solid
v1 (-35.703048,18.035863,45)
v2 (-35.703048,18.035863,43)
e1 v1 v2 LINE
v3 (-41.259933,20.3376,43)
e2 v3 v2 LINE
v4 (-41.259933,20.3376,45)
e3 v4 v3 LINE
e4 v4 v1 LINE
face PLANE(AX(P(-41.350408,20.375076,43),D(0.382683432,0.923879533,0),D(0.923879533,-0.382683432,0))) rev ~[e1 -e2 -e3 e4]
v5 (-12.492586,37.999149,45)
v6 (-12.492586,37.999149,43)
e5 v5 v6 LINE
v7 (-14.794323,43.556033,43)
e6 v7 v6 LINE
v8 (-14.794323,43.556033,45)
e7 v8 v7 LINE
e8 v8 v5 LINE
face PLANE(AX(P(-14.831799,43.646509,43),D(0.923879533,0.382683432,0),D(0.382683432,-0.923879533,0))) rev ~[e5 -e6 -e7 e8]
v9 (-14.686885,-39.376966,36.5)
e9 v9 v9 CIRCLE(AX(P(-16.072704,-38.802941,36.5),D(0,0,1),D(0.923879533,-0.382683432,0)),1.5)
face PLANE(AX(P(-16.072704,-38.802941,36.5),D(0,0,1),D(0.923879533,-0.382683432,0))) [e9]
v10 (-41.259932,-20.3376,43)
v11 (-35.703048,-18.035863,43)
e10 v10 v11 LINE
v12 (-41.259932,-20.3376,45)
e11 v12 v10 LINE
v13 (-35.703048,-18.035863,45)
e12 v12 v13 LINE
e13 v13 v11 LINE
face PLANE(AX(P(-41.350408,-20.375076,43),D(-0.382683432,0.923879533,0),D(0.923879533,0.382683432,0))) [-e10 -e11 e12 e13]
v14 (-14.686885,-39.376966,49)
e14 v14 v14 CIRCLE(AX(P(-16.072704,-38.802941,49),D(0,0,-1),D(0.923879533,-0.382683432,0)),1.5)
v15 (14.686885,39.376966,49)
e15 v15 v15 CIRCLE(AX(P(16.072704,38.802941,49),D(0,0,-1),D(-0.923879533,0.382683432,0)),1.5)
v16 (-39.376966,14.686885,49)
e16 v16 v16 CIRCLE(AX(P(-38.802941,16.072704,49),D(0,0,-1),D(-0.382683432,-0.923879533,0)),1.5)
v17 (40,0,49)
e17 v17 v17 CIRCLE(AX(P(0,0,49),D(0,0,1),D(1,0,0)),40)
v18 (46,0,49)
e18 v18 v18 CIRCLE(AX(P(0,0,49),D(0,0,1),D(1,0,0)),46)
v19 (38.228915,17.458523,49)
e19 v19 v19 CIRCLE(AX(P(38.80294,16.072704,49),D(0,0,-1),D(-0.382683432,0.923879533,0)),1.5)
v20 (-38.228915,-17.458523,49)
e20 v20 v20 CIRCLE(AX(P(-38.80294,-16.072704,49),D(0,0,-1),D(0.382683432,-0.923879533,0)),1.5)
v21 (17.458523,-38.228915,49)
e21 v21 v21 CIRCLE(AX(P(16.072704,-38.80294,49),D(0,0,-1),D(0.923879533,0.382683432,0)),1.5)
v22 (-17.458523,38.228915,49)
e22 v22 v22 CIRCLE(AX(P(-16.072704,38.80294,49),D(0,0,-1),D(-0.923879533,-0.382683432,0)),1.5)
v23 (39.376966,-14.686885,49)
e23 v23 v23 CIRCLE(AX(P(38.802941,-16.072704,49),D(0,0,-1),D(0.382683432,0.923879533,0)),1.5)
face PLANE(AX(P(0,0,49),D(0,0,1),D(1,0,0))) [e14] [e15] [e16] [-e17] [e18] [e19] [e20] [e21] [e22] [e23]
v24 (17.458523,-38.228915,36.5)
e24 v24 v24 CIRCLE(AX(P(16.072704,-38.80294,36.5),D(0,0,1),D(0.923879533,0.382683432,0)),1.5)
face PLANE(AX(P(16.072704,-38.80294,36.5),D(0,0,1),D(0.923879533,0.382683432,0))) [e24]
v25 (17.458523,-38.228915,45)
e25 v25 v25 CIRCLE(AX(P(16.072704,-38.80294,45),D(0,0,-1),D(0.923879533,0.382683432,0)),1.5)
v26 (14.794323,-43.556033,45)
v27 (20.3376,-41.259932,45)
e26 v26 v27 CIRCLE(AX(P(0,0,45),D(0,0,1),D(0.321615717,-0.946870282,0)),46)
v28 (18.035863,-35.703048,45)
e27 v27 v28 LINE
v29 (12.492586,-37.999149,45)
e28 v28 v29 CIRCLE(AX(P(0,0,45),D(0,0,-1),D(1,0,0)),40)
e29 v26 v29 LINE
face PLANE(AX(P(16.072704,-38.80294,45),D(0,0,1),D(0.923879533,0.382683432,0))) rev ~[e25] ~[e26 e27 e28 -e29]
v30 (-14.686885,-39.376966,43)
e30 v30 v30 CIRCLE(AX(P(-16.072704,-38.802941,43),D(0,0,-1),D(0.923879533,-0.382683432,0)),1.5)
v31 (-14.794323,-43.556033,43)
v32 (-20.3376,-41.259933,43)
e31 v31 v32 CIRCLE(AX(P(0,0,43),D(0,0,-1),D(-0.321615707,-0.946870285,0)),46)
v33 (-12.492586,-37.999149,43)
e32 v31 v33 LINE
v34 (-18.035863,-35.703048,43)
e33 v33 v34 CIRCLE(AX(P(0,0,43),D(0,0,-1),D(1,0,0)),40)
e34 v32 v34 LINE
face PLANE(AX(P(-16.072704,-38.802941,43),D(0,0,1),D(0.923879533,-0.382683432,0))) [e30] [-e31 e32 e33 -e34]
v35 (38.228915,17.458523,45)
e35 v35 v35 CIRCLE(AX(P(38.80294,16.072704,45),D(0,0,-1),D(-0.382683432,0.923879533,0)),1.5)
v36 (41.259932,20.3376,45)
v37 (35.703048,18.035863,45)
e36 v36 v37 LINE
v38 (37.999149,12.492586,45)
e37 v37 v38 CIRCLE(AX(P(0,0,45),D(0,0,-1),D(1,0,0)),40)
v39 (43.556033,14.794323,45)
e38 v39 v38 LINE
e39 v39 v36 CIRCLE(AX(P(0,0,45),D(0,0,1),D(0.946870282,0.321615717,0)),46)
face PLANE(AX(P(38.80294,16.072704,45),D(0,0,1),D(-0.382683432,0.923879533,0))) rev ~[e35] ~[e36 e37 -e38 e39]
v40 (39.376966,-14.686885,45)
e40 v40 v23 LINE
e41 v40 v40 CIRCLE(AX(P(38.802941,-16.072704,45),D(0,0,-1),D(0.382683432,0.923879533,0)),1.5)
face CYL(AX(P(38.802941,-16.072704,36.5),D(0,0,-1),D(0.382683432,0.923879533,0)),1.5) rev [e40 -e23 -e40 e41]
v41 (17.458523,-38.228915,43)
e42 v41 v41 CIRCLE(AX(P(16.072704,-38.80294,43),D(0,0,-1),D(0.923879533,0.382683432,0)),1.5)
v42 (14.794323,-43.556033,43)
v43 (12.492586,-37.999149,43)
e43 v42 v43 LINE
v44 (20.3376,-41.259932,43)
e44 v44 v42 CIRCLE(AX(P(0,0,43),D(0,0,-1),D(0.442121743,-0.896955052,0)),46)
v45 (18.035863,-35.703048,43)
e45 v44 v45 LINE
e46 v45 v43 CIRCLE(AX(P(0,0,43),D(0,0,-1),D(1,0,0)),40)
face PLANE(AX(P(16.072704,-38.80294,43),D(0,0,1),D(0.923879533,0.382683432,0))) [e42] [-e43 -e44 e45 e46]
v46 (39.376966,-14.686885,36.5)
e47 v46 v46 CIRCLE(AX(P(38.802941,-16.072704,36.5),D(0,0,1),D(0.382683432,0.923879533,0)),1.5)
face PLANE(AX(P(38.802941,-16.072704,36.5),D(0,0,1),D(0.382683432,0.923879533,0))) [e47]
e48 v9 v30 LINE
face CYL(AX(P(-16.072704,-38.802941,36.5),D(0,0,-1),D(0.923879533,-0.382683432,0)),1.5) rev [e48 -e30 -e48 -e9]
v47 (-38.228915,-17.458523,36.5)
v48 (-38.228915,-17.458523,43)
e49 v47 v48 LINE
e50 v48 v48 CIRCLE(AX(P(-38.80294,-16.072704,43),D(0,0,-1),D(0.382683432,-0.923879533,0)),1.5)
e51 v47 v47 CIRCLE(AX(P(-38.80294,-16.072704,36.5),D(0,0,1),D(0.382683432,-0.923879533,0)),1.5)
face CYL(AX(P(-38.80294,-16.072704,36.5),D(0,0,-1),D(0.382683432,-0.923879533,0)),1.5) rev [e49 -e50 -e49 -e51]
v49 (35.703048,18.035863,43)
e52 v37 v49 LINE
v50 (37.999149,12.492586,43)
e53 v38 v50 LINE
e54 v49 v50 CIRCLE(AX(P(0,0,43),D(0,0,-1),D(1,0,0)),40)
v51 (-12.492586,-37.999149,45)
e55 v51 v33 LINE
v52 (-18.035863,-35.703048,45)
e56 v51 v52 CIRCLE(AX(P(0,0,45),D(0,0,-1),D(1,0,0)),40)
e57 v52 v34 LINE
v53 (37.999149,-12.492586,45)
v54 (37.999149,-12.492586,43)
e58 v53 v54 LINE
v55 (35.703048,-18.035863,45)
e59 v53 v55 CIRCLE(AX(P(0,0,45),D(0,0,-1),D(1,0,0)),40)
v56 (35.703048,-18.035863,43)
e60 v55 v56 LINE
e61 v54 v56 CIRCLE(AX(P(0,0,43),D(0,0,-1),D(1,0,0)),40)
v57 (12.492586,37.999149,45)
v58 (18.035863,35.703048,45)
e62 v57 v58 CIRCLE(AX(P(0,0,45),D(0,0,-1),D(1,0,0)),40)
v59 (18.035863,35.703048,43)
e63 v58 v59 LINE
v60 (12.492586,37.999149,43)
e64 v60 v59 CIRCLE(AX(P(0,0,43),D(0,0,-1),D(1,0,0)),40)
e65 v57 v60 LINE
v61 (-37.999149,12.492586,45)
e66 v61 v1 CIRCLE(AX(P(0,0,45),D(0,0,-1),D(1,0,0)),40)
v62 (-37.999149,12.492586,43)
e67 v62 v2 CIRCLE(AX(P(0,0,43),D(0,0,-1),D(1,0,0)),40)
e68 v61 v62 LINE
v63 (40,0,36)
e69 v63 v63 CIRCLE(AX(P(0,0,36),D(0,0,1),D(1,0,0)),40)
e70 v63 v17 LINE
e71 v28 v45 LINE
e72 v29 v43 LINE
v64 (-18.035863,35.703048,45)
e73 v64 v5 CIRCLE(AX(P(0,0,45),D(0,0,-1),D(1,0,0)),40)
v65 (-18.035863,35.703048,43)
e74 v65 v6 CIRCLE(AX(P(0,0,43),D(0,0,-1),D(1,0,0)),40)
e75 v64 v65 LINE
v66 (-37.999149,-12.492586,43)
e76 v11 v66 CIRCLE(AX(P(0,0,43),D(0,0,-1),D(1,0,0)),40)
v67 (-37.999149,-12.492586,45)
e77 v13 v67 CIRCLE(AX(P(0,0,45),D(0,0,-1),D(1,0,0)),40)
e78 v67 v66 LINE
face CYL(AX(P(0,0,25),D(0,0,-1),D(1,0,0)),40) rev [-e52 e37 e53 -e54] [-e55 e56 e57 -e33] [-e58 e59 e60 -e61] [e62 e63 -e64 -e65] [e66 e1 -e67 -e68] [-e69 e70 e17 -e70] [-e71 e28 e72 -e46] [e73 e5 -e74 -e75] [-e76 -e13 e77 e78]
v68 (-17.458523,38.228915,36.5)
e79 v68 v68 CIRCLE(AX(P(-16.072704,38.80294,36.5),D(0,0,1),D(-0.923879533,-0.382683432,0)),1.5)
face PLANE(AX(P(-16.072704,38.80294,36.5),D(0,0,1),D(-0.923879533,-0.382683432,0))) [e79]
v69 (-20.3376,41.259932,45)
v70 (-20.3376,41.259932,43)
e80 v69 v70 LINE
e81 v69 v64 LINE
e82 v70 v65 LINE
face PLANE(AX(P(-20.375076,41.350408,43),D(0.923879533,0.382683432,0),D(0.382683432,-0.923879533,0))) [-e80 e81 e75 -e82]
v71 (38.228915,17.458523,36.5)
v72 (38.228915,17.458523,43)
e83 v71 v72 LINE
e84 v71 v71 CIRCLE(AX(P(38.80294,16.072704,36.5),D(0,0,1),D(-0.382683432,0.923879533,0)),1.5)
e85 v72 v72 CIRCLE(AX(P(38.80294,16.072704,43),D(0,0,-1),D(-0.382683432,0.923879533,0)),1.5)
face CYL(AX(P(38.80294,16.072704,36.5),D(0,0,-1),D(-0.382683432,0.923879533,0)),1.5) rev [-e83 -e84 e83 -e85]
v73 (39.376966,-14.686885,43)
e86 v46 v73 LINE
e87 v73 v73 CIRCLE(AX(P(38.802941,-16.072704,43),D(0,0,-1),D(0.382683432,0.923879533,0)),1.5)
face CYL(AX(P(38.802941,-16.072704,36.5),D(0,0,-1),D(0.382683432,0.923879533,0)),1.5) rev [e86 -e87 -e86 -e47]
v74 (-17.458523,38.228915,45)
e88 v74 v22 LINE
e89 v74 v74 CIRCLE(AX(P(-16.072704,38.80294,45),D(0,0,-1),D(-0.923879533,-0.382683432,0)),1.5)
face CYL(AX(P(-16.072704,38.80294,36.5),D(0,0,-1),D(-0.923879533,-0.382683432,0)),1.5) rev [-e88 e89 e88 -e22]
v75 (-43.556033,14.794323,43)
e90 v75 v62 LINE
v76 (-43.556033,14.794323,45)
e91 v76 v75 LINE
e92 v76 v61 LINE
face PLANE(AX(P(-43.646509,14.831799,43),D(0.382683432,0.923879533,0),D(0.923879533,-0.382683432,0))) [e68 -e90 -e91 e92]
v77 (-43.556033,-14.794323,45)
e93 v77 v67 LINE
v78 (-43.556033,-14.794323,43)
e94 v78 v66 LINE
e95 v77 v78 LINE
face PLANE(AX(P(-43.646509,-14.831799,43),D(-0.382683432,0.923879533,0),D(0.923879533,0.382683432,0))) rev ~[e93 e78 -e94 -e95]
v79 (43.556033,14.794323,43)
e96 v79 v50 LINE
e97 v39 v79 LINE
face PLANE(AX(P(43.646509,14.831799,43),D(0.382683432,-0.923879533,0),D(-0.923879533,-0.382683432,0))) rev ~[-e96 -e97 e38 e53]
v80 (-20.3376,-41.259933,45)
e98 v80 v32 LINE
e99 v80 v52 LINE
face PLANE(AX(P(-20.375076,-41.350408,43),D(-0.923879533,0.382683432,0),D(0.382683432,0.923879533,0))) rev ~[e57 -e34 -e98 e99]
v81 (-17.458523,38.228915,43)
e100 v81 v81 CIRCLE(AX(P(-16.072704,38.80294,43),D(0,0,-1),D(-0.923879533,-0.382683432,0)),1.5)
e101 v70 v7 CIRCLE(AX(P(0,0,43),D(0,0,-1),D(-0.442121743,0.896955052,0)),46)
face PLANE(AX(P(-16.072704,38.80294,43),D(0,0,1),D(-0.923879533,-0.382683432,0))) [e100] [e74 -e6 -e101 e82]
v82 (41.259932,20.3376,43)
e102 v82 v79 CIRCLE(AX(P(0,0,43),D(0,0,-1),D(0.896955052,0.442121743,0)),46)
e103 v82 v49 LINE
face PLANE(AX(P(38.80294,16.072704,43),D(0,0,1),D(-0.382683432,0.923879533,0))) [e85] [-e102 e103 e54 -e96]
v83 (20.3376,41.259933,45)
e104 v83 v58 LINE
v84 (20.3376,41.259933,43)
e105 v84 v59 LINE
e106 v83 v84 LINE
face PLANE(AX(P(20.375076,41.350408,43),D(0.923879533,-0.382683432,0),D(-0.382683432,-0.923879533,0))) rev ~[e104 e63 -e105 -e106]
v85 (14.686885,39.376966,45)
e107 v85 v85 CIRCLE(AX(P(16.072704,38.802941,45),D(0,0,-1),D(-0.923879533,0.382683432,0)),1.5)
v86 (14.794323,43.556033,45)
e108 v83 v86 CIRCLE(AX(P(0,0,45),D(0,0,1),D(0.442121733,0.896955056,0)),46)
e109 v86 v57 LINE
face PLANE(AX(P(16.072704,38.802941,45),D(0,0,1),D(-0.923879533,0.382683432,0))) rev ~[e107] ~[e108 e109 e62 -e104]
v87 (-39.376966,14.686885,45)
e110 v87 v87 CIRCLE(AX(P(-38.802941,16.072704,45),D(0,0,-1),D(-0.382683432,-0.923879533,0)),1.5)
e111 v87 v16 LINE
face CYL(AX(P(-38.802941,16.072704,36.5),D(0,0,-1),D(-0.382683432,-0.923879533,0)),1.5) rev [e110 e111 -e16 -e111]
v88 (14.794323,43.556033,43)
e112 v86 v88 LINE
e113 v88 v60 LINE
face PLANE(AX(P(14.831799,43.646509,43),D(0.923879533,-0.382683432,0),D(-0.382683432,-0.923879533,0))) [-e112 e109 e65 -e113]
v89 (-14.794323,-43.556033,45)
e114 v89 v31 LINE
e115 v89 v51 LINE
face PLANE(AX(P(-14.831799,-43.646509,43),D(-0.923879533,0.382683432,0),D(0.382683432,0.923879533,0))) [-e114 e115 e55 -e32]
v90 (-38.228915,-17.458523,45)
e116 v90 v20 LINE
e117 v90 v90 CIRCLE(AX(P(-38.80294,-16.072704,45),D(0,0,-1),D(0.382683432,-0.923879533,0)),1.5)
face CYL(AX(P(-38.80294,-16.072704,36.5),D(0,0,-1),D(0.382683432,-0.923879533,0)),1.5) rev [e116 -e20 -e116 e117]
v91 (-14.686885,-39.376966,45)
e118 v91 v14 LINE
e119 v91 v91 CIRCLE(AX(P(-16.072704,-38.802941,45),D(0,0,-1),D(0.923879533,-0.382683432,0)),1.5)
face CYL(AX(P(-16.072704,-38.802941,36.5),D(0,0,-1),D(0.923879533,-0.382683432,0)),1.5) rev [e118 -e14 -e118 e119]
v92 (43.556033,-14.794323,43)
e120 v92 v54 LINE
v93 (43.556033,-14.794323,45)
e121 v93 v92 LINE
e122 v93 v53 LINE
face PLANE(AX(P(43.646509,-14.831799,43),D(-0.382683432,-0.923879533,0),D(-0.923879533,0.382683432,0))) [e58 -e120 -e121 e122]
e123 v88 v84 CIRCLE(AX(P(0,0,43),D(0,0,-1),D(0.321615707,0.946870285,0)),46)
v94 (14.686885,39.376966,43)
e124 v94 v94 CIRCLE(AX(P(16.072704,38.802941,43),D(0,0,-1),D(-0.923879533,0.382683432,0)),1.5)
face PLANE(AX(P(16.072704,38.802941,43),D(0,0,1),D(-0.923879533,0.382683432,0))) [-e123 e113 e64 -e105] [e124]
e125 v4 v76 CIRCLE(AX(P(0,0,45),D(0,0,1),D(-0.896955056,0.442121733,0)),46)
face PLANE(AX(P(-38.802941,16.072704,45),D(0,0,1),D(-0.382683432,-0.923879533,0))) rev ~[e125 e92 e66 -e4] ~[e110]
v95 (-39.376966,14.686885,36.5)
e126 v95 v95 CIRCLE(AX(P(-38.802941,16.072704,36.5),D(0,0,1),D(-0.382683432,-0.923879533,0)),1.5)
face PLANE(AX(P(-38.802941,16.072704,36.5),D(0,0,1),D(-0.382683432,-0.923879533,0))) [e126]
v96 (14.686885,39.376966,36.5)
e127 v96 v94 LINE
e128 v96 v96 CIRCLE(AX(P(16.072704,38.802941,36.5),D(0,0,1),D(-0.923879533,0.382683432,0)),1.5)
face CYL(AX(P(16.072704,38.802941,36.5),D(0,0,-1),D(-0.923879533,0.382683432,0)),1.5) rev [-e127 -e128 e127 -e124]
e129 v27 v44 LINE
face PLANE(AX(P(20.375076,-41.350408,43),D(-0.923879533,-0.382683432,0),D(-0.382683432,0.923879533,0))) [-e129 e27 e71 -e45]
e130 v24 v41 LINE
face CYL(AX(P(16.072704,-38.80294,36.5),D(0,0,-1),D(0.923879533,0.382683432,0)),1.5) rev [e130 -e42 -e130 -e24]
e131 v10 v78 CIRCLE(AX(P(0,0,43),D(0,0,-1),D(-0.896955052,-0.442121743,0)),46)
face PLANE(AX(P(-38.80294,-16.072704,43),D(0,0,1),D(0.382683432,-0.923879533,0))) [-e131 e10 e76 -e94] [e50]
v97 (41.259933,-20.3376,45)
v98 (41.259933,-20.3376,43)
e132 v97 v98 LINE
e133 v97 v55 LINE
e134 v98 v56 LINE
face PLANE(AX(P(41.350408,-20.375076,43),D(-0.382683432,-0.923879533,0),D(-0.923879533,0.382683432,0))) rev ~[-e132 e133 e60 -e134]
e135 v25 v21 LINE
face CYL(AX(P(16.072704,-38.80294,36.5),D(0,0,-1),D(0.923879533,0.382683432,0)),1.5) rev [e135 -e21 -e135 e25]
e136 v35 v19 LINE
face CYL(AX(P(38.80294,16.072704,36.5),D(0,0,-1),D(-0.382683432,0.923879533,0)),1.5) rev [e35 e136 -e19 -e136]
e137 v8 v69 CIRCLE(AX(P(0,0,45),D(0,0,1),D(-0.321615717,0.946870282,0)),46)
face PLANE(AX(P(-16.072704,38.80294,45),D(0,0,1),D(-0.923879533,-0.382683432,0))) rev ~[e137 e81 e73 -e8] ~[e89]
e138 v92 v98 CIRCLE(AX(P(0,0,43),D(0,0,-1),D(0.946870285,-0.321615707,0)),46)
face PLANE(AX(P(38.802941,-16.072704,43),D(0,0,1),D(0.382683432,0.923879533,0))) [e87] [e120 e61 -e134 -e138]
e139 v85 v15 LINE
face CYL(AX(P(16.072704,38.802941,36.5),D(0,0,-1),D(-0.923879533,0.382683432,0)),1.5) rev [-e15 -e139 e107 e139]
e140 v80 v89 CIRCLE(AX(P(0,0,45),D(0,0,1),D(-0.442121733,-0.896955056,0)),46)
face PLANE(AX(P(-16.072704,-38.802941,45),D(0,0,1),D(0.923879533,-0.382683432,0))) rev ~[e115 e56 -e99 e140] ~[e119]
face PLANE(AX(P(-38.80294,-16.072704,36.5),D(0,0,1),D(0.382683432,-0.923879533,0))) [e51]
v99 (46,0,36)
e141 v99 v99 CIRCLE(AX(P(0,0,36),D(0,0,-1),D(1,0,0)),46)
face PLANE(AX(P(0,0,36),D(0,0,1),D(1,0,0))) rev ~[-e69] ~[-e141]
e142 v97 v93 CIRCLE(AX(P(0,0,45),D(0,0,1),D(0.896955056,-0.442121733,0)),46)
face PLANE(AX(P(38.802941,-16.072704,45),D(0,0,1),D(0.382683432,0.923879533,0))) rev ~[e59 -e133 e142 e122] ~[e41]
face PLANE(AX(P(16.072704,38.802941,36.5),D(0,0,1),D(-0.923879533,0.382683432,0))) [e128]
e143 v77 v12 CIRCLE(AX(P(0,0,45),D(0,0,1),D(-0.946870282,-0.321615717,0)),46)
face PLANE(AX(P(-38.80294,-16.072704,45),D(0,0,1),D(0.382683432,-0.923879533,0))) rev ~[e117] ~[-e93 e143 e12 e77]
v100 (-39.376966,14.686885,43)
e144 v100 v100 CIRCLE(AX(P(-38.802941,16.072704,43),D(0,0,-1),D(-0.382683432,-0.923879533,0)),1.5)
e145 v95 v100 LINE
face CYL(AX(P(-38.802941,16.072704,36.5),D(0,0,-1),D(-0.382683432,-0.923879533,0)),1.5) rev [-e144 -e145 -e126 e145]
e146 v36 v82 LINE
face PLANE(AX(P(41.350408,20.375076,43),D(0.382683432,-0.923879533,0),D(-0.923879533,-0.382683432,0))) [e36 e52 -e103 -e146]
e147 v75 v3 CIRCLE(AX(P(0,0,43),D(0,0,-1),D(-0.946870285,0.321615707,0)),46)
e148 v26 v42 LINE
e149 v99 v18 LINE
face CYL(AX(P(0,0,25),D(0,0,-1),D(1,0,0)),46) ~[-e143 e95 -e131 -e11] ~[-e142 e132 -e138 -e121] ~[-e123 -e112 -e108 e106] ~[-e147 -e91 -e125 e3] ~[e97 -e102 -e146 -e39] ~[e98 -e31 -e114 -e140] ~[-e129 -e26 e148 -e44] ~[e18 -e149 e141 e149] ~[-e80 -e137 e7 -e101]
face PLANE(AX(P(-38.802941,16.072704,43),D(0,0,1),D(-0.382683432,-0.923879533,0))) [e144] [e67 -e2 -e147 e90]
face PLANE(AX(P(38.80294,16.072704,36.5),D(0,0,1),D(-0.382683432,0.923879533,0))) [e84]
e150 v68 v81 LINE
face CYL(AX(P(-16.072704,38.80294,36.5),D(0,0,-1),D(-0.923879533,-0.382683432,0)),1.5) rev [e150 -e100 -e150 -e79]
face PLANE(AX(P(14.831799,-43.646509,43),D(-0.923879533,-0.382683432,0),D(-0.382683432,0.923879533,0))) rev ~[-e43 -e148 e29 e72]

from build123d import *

# Parameters (mm, degrees)
BOX548_W                     = 6
BOX548_H                     = 8
BOX548_DEPTH                 = 2
BOX548_PLACEMENT_ANGLE       = 45
BOX546_W                     = 6
BOX546_H                     = 8
BOX546_DEPTH                 = 2
BOX545_W                     = 6
BOX545_H                     = 8
BOX545_DEPTH                 = 2
BOX549_W                     = 6
BOX549_H                     = 8
BOX549_DEPTH                 = 2
BOX549_PLACEMENT_ANGLE       = 135
BOX550_W                     = 6
BOX550_H                     = 8
BOX550_DEPTH                 = 2
BOX547_W                     = 6
BOX547_H                     = 8
BOX547_DEPTH                 = 2
BOX547_PLACEMENT_ANGLE       = 225
BOX551_W                     = 6
BOX551_H                     = 8
BOX551_DEPTH                 = 2
BOX544_W                     = 6
BOX544_H                     = 8
BOX544_DEPTH                 = 2
BOX544_PLACEMENT_ANGLE       = 45
COMPOUND925_PLACEMENT_ANGLE  = 22.5
CYLINDER1290_R               = 1.5
CYLINDER1290_DEPTH           = 32
CYLINDER1290_PLACEMENT_ANGLE = 45
CYLINDER1293_R               = 1.5
CYLINDER1293_DEPTH           = 32
CYLINDER1291_R               = 1.5
CYLINDER1291_DEPTH           = 32
CYLINDER1291_PLACEMENT_ANGLE = 135
CYLINDER1289_R               = 1.5
CYLINDER1289_DEPTH           = 32
CYLINDER1287_R               = 1.5
CYLINDER1287_DEPTH           = 32
CYLINDER1287_PLACEMENT_ANGLE = 225
CYLINDER1292_R               = 1.5
CYLINDER1292_DEPTH           = 32
CYLINDER1286_R               = 1.5
CYLINDER1286_DEPTH           = 32
CYLINDER1286_PLACEMENT_ANGLE = 45
CYLINDER1288_R               = 1.5
CYLINDER1288_DEPTH           = 32
COMPOUND926_PLACEMENT_ANGLE  = 22.5
TUBE115_R                    = 50
TUBE115_R_2                  = 40
TUBE115_DEPTH                = 12
TUBE113_R                    = 46
TUBE113_R_2                  = 40
TUBE113_DEPTH                = 24


with BuildPart() as krychle548:
    # Box548 → Box548 (new body)
    with BuildSketch(Plane.XY):
        with Locations((3, 4)):
            Rectangle(BOX548_W, BOX548_H)
    extrude(amount=BOX548_DEPTH)


with BuildPart() as krychle548_1:
    # Box548 placement: moved
    add(krychle548.part.moved(Location((30.405592, -34.648232, 33))).rotate(Axis((30.405592, -34.648232, 33), (0, 0, 1)), BOX548_PLACEMENT_ANGLE))


with BuildPart() as krychle546:
    # Box546 → Box546 (new body)
    with BuildSketch(Plane(origin=(46, -3, 33), x_dir=(0, 1, 0), z_dir=(0, 0, 1))):
        with Locations((3, 4)):
            Rectangle(BOX546_W, BOX546_H)
    extrude(amount=BOX546_DEPTH)


with BuildPart() as krychle545:
    # Box545 → Box545 (new body)
    with BuildSketch(Plane(origin=(-3, -46, 33), x_dir=(1, 0, 0), z_dir=(0, 0, 1))):
        with Locations((3, 4)):
            Rectangle(BOX545_W, BOX545_H)
    extrude(amount=BOX545_DEPTH)


with BuildPart() as krychle549:
    # Box549 → Box549 (new body)
    with BuildSketch(Plane.XY):
        with Locations((3, 4)):
            Rectangle(BOX549_W, BOX549_H)
    extrude(amount=BOX549_DEPTH)


with BuildPart() as krychle549_1:
    # Box549 placement: moved
    add(krychle549.part.moved(Location((34.648232, 30.405592, 33))).rotate(Axis((34.648232, 30.405592, 33), (0, 0, 1)), BOX549_PLACEMENT_ANGLE))


with BuildPart() as krychle550:
    # Box550 → Box550 (new body)
    with BuildSketch(Plane(origin=(3, 46, 33), x_dir=(-1, 0, 0), z_dir=(0, 0, 1))):
        with Locations((3, 4)):
            Rectangle(BOX550_W, BOX550_H)
    extrude(amount=BOX550_DEPTH)


with BuildPart() as krychle547:
    # Box547 → Box547 (new body)
    with BuildSketch(Plane.XY):
        with Locations((3, 4)):
            Rectangle(BOX547_W, BOX547_H)
    extrude(amount=BOX547_DEPTH)


with BuildPart() as krychle547_1:
    # Box547 placement: moved
    add(krychle547.part.moved(Location((-30.405592, 34.648232, 33))).rotate(Axis((-30.405592, 34.648232, 33), (0, 0, 1)), BOX547_PLACEMENT_ANGLE))


with BuildPart() as krychle551:
    # Box551 → Box551 (new body)
    with BuildSketch(Plane(origin=(-46, 3, 33), x_dir=(0, -1, 0), z_dir=(0, 0, 1))):
        with Locations((3, 4)):
            Rectangle(BOX551_W, BOX551_H)
    extrude(amount=BOX551_DEPTH)


with BuildPart() as compound925:
    # Box544 → Box544 (new body)
    with BuildSketch(Plane.XY):
        with Locations((3, 4)):
            Rectangle(BOX544_W, BOX544_H)
    extrude(amount=BOX544_DEPTH)


with BuildPart() as compound925_1:
    # Box544 placement: moved
    add(compound925.part.moved(Location((-34.648232, -30.405592, 33))).rotate(Axis((-34.648232, -30.405592, 33), (0, 0, -1)), BOX544_PLACEMENT_ANGLE))

    # Compound925: union Krychle548, Krychle546, Krychle545, Krychle549, Krychle550, Krychle547, Krychle551
    add(krychle548_1.part)
    add(krychle546.part)
    add(krychle545.part)
    add(krychle549_1.part)
    add(krychle550.part)
    add(krychle547_1.part)
    add(krychle551.part)


with BuildPart() as compound925_2:
    # Compound925 placement: moved
    add(compound925_1.part.moved(Location((0, 0, 10))).rotate(Axis((0, 0, 10), (0, 0, 1)), COMPOUND925_PLACEMENT_ANGLE))


with BuildPart() as v_lec1290:
    # Cylinder1290 → Cylinder1290 (new body)
    with BuildSketch(Plane.XY):
        Circle(CYLINDER1290_R)
    extrude(amount=CYLINDER1290_DEPTH)


with BuildPart() as v_lec1290_1:
    # Cylinder1290 placement: moved
    add(v_lec1290.part.moved(Location((29.698485, -29.698485, 33.5))).rotate(Axis((29.698485, -29.698485, 33.5), (0, 0, 1)), CYLINDER1290_PLACEMENT_ANGLE))


with BuildPart() as v_lec1293:
    # Cylinder1293 → Cylinder1293 (new body)
    with BuildSketch(Plane(origin=(42, 0, 33.5), x_dir=(0, 1, 0), z_dir=(0, 0, 1))):
        Circle(CYLINDER1293_R)
    extrude(amount=CYLINDER1293_DEPTH)


with BuildPart() as v_lec1291:
    # Cylinder1291 → Cylinder1291 (new body)
    with BuildSketch(Plane.XY):
        Circle(CYLINDER1291_R)
    extrude(amount=CYLINDER1291_DEPTH)


with BuildPart() as v_lec1291_1:
    # Cylinder1291 placement: moved
    add(v_lec1291.part.moved(Location((29.698485, 29.698485, 33.5))).rotate(Axis((29.698485, 29.698485, 33.5), (0, 0, 1)), CYLINDER1291_PLACEMENT_ANGLE))


with BuildPart() as v_lec1289:
    # Cylinder1289 → Cylinder1289 (new body)
    with BuildSketch(Plane(origin=(0, 42, 33.5), x_dir=(-1, 0, 0), z_dir=(0, 0, 1))):
        Circle(CYLINDER1289_R)
    extrude(amount=CYLINDER1289_DEPTH)


with BuildPart() as v_lec1287:
    # Cylinder1287 → Cylinder1287 (new body)
    with BuildSketch(Plane.XY):
        Circle(CYLINDER1287_R)
    extrude(amount=CYLINDER1287_DEPTH)


with BuildPart() as v_lec1287_1:
    # Cylinder1287 placement: moved
    add(v_lec1287.part.moved(Location((-29.698485, 29.698485, 33.5))).rotate(Axis((-29.698485, 29.698485, 33.5), (0, 0, 1)), CYLINDER1287_PLACEMENT_ANGLE))


with BuildPart() as v_lec1292:
    # Cylinder1292 → Cylinder1292 (new body)
    with BuildSketch(Plane(origin=(-42, 0, 33.5), x_dir=(0, -1, 0), z_dir=(0, 0, 1))):
        Circle(CYLINDER1292_R)
    extrude(amount=CYLINDER1292_DEPTH)


with BuildPart() as v_lec1286:
    # Cylinder1286 → Cylinder1286 (new body)
    with BuildSketch(Plane.XY):
        Circle(CYLINDER1286_R)
    extrude(amount=CYLINDER1286_DEPTH)


with BuildPart() as v_lec1286_1:
    # Cylinder1286 placement: moved
    add(v_lec1286.part.moved(Location((-29.698485, -29.698485, 33.5))).rotate(Axis((-29.698485, -29.698485, 33.5), (0, 0, -1)), CYLINDER1286_PLACEMENT_ANGLE))


with BuildPart() as compound926:
    # Cylinder1288 → Cylinder1288 (new body)
    with BuildSketch(Plane(origin=(0, -42, 33.5), x_dir=(1, 0, 0), z_dir=(0, 0, 1))):
        Circle(CYLINDER1288_R)
    extrude(amount=CYLINDER1288_DEPTH)

    # Compound926: union Válec1290, Válec1293, Válec1291, Válec1289, Válec1287, Válec1292, Válec1286
    add(v_lec1290_1.part)
    add(v_lec1293.part)
    add(v_lec1291_1.part)
    add(v_lec1289.part)
    add(v_lec1287_1.part)
    add(v_lec1292.part)
    add(v_lec1286_1.part)


with BuildPart() as compound926_1:
    # Compound926 placement: moved
    add(compound926.part.moved(Location((0, 0, 3))).rotate(Axis((0, 0, 3), (0, 0, 1)), COMPOUND926_PLACEMENT_ANGLE))


with BuildPart() as tube115:
    # Tube115 → Tube115 (new body)
    with BuildSketch(Plane.XY.offset(24)):
        Circle(TUBE115_R)
        Circle(TUBE115_R_2, mode=Mode.SUBTRACT)
    extrude(amount=TUBE115_DEPTH)


with BuildPart() as cut476:
    # Tube113 → Tube113 (new body)
    with BuildSketch(Plane.XY.offset(25)):
        Circle(TUBE113_R)
        Circle(TUBE113_R_2, mode=Mode.SUBTRACT)
    extrude(amount=TUBE113_DEPTH)

    # Cut473: cut Tube115
    add(tube115.part, mode=Mode.SUBTRACT)

    # Cut475: cut Compound926
    add(compound926_1.part, mode=Mode.SUBTRACT)

    # Cut476: cut Compound925
    add(compound925_2.part, mode=Mode.SUBTRACT)


solid = cut476.part
